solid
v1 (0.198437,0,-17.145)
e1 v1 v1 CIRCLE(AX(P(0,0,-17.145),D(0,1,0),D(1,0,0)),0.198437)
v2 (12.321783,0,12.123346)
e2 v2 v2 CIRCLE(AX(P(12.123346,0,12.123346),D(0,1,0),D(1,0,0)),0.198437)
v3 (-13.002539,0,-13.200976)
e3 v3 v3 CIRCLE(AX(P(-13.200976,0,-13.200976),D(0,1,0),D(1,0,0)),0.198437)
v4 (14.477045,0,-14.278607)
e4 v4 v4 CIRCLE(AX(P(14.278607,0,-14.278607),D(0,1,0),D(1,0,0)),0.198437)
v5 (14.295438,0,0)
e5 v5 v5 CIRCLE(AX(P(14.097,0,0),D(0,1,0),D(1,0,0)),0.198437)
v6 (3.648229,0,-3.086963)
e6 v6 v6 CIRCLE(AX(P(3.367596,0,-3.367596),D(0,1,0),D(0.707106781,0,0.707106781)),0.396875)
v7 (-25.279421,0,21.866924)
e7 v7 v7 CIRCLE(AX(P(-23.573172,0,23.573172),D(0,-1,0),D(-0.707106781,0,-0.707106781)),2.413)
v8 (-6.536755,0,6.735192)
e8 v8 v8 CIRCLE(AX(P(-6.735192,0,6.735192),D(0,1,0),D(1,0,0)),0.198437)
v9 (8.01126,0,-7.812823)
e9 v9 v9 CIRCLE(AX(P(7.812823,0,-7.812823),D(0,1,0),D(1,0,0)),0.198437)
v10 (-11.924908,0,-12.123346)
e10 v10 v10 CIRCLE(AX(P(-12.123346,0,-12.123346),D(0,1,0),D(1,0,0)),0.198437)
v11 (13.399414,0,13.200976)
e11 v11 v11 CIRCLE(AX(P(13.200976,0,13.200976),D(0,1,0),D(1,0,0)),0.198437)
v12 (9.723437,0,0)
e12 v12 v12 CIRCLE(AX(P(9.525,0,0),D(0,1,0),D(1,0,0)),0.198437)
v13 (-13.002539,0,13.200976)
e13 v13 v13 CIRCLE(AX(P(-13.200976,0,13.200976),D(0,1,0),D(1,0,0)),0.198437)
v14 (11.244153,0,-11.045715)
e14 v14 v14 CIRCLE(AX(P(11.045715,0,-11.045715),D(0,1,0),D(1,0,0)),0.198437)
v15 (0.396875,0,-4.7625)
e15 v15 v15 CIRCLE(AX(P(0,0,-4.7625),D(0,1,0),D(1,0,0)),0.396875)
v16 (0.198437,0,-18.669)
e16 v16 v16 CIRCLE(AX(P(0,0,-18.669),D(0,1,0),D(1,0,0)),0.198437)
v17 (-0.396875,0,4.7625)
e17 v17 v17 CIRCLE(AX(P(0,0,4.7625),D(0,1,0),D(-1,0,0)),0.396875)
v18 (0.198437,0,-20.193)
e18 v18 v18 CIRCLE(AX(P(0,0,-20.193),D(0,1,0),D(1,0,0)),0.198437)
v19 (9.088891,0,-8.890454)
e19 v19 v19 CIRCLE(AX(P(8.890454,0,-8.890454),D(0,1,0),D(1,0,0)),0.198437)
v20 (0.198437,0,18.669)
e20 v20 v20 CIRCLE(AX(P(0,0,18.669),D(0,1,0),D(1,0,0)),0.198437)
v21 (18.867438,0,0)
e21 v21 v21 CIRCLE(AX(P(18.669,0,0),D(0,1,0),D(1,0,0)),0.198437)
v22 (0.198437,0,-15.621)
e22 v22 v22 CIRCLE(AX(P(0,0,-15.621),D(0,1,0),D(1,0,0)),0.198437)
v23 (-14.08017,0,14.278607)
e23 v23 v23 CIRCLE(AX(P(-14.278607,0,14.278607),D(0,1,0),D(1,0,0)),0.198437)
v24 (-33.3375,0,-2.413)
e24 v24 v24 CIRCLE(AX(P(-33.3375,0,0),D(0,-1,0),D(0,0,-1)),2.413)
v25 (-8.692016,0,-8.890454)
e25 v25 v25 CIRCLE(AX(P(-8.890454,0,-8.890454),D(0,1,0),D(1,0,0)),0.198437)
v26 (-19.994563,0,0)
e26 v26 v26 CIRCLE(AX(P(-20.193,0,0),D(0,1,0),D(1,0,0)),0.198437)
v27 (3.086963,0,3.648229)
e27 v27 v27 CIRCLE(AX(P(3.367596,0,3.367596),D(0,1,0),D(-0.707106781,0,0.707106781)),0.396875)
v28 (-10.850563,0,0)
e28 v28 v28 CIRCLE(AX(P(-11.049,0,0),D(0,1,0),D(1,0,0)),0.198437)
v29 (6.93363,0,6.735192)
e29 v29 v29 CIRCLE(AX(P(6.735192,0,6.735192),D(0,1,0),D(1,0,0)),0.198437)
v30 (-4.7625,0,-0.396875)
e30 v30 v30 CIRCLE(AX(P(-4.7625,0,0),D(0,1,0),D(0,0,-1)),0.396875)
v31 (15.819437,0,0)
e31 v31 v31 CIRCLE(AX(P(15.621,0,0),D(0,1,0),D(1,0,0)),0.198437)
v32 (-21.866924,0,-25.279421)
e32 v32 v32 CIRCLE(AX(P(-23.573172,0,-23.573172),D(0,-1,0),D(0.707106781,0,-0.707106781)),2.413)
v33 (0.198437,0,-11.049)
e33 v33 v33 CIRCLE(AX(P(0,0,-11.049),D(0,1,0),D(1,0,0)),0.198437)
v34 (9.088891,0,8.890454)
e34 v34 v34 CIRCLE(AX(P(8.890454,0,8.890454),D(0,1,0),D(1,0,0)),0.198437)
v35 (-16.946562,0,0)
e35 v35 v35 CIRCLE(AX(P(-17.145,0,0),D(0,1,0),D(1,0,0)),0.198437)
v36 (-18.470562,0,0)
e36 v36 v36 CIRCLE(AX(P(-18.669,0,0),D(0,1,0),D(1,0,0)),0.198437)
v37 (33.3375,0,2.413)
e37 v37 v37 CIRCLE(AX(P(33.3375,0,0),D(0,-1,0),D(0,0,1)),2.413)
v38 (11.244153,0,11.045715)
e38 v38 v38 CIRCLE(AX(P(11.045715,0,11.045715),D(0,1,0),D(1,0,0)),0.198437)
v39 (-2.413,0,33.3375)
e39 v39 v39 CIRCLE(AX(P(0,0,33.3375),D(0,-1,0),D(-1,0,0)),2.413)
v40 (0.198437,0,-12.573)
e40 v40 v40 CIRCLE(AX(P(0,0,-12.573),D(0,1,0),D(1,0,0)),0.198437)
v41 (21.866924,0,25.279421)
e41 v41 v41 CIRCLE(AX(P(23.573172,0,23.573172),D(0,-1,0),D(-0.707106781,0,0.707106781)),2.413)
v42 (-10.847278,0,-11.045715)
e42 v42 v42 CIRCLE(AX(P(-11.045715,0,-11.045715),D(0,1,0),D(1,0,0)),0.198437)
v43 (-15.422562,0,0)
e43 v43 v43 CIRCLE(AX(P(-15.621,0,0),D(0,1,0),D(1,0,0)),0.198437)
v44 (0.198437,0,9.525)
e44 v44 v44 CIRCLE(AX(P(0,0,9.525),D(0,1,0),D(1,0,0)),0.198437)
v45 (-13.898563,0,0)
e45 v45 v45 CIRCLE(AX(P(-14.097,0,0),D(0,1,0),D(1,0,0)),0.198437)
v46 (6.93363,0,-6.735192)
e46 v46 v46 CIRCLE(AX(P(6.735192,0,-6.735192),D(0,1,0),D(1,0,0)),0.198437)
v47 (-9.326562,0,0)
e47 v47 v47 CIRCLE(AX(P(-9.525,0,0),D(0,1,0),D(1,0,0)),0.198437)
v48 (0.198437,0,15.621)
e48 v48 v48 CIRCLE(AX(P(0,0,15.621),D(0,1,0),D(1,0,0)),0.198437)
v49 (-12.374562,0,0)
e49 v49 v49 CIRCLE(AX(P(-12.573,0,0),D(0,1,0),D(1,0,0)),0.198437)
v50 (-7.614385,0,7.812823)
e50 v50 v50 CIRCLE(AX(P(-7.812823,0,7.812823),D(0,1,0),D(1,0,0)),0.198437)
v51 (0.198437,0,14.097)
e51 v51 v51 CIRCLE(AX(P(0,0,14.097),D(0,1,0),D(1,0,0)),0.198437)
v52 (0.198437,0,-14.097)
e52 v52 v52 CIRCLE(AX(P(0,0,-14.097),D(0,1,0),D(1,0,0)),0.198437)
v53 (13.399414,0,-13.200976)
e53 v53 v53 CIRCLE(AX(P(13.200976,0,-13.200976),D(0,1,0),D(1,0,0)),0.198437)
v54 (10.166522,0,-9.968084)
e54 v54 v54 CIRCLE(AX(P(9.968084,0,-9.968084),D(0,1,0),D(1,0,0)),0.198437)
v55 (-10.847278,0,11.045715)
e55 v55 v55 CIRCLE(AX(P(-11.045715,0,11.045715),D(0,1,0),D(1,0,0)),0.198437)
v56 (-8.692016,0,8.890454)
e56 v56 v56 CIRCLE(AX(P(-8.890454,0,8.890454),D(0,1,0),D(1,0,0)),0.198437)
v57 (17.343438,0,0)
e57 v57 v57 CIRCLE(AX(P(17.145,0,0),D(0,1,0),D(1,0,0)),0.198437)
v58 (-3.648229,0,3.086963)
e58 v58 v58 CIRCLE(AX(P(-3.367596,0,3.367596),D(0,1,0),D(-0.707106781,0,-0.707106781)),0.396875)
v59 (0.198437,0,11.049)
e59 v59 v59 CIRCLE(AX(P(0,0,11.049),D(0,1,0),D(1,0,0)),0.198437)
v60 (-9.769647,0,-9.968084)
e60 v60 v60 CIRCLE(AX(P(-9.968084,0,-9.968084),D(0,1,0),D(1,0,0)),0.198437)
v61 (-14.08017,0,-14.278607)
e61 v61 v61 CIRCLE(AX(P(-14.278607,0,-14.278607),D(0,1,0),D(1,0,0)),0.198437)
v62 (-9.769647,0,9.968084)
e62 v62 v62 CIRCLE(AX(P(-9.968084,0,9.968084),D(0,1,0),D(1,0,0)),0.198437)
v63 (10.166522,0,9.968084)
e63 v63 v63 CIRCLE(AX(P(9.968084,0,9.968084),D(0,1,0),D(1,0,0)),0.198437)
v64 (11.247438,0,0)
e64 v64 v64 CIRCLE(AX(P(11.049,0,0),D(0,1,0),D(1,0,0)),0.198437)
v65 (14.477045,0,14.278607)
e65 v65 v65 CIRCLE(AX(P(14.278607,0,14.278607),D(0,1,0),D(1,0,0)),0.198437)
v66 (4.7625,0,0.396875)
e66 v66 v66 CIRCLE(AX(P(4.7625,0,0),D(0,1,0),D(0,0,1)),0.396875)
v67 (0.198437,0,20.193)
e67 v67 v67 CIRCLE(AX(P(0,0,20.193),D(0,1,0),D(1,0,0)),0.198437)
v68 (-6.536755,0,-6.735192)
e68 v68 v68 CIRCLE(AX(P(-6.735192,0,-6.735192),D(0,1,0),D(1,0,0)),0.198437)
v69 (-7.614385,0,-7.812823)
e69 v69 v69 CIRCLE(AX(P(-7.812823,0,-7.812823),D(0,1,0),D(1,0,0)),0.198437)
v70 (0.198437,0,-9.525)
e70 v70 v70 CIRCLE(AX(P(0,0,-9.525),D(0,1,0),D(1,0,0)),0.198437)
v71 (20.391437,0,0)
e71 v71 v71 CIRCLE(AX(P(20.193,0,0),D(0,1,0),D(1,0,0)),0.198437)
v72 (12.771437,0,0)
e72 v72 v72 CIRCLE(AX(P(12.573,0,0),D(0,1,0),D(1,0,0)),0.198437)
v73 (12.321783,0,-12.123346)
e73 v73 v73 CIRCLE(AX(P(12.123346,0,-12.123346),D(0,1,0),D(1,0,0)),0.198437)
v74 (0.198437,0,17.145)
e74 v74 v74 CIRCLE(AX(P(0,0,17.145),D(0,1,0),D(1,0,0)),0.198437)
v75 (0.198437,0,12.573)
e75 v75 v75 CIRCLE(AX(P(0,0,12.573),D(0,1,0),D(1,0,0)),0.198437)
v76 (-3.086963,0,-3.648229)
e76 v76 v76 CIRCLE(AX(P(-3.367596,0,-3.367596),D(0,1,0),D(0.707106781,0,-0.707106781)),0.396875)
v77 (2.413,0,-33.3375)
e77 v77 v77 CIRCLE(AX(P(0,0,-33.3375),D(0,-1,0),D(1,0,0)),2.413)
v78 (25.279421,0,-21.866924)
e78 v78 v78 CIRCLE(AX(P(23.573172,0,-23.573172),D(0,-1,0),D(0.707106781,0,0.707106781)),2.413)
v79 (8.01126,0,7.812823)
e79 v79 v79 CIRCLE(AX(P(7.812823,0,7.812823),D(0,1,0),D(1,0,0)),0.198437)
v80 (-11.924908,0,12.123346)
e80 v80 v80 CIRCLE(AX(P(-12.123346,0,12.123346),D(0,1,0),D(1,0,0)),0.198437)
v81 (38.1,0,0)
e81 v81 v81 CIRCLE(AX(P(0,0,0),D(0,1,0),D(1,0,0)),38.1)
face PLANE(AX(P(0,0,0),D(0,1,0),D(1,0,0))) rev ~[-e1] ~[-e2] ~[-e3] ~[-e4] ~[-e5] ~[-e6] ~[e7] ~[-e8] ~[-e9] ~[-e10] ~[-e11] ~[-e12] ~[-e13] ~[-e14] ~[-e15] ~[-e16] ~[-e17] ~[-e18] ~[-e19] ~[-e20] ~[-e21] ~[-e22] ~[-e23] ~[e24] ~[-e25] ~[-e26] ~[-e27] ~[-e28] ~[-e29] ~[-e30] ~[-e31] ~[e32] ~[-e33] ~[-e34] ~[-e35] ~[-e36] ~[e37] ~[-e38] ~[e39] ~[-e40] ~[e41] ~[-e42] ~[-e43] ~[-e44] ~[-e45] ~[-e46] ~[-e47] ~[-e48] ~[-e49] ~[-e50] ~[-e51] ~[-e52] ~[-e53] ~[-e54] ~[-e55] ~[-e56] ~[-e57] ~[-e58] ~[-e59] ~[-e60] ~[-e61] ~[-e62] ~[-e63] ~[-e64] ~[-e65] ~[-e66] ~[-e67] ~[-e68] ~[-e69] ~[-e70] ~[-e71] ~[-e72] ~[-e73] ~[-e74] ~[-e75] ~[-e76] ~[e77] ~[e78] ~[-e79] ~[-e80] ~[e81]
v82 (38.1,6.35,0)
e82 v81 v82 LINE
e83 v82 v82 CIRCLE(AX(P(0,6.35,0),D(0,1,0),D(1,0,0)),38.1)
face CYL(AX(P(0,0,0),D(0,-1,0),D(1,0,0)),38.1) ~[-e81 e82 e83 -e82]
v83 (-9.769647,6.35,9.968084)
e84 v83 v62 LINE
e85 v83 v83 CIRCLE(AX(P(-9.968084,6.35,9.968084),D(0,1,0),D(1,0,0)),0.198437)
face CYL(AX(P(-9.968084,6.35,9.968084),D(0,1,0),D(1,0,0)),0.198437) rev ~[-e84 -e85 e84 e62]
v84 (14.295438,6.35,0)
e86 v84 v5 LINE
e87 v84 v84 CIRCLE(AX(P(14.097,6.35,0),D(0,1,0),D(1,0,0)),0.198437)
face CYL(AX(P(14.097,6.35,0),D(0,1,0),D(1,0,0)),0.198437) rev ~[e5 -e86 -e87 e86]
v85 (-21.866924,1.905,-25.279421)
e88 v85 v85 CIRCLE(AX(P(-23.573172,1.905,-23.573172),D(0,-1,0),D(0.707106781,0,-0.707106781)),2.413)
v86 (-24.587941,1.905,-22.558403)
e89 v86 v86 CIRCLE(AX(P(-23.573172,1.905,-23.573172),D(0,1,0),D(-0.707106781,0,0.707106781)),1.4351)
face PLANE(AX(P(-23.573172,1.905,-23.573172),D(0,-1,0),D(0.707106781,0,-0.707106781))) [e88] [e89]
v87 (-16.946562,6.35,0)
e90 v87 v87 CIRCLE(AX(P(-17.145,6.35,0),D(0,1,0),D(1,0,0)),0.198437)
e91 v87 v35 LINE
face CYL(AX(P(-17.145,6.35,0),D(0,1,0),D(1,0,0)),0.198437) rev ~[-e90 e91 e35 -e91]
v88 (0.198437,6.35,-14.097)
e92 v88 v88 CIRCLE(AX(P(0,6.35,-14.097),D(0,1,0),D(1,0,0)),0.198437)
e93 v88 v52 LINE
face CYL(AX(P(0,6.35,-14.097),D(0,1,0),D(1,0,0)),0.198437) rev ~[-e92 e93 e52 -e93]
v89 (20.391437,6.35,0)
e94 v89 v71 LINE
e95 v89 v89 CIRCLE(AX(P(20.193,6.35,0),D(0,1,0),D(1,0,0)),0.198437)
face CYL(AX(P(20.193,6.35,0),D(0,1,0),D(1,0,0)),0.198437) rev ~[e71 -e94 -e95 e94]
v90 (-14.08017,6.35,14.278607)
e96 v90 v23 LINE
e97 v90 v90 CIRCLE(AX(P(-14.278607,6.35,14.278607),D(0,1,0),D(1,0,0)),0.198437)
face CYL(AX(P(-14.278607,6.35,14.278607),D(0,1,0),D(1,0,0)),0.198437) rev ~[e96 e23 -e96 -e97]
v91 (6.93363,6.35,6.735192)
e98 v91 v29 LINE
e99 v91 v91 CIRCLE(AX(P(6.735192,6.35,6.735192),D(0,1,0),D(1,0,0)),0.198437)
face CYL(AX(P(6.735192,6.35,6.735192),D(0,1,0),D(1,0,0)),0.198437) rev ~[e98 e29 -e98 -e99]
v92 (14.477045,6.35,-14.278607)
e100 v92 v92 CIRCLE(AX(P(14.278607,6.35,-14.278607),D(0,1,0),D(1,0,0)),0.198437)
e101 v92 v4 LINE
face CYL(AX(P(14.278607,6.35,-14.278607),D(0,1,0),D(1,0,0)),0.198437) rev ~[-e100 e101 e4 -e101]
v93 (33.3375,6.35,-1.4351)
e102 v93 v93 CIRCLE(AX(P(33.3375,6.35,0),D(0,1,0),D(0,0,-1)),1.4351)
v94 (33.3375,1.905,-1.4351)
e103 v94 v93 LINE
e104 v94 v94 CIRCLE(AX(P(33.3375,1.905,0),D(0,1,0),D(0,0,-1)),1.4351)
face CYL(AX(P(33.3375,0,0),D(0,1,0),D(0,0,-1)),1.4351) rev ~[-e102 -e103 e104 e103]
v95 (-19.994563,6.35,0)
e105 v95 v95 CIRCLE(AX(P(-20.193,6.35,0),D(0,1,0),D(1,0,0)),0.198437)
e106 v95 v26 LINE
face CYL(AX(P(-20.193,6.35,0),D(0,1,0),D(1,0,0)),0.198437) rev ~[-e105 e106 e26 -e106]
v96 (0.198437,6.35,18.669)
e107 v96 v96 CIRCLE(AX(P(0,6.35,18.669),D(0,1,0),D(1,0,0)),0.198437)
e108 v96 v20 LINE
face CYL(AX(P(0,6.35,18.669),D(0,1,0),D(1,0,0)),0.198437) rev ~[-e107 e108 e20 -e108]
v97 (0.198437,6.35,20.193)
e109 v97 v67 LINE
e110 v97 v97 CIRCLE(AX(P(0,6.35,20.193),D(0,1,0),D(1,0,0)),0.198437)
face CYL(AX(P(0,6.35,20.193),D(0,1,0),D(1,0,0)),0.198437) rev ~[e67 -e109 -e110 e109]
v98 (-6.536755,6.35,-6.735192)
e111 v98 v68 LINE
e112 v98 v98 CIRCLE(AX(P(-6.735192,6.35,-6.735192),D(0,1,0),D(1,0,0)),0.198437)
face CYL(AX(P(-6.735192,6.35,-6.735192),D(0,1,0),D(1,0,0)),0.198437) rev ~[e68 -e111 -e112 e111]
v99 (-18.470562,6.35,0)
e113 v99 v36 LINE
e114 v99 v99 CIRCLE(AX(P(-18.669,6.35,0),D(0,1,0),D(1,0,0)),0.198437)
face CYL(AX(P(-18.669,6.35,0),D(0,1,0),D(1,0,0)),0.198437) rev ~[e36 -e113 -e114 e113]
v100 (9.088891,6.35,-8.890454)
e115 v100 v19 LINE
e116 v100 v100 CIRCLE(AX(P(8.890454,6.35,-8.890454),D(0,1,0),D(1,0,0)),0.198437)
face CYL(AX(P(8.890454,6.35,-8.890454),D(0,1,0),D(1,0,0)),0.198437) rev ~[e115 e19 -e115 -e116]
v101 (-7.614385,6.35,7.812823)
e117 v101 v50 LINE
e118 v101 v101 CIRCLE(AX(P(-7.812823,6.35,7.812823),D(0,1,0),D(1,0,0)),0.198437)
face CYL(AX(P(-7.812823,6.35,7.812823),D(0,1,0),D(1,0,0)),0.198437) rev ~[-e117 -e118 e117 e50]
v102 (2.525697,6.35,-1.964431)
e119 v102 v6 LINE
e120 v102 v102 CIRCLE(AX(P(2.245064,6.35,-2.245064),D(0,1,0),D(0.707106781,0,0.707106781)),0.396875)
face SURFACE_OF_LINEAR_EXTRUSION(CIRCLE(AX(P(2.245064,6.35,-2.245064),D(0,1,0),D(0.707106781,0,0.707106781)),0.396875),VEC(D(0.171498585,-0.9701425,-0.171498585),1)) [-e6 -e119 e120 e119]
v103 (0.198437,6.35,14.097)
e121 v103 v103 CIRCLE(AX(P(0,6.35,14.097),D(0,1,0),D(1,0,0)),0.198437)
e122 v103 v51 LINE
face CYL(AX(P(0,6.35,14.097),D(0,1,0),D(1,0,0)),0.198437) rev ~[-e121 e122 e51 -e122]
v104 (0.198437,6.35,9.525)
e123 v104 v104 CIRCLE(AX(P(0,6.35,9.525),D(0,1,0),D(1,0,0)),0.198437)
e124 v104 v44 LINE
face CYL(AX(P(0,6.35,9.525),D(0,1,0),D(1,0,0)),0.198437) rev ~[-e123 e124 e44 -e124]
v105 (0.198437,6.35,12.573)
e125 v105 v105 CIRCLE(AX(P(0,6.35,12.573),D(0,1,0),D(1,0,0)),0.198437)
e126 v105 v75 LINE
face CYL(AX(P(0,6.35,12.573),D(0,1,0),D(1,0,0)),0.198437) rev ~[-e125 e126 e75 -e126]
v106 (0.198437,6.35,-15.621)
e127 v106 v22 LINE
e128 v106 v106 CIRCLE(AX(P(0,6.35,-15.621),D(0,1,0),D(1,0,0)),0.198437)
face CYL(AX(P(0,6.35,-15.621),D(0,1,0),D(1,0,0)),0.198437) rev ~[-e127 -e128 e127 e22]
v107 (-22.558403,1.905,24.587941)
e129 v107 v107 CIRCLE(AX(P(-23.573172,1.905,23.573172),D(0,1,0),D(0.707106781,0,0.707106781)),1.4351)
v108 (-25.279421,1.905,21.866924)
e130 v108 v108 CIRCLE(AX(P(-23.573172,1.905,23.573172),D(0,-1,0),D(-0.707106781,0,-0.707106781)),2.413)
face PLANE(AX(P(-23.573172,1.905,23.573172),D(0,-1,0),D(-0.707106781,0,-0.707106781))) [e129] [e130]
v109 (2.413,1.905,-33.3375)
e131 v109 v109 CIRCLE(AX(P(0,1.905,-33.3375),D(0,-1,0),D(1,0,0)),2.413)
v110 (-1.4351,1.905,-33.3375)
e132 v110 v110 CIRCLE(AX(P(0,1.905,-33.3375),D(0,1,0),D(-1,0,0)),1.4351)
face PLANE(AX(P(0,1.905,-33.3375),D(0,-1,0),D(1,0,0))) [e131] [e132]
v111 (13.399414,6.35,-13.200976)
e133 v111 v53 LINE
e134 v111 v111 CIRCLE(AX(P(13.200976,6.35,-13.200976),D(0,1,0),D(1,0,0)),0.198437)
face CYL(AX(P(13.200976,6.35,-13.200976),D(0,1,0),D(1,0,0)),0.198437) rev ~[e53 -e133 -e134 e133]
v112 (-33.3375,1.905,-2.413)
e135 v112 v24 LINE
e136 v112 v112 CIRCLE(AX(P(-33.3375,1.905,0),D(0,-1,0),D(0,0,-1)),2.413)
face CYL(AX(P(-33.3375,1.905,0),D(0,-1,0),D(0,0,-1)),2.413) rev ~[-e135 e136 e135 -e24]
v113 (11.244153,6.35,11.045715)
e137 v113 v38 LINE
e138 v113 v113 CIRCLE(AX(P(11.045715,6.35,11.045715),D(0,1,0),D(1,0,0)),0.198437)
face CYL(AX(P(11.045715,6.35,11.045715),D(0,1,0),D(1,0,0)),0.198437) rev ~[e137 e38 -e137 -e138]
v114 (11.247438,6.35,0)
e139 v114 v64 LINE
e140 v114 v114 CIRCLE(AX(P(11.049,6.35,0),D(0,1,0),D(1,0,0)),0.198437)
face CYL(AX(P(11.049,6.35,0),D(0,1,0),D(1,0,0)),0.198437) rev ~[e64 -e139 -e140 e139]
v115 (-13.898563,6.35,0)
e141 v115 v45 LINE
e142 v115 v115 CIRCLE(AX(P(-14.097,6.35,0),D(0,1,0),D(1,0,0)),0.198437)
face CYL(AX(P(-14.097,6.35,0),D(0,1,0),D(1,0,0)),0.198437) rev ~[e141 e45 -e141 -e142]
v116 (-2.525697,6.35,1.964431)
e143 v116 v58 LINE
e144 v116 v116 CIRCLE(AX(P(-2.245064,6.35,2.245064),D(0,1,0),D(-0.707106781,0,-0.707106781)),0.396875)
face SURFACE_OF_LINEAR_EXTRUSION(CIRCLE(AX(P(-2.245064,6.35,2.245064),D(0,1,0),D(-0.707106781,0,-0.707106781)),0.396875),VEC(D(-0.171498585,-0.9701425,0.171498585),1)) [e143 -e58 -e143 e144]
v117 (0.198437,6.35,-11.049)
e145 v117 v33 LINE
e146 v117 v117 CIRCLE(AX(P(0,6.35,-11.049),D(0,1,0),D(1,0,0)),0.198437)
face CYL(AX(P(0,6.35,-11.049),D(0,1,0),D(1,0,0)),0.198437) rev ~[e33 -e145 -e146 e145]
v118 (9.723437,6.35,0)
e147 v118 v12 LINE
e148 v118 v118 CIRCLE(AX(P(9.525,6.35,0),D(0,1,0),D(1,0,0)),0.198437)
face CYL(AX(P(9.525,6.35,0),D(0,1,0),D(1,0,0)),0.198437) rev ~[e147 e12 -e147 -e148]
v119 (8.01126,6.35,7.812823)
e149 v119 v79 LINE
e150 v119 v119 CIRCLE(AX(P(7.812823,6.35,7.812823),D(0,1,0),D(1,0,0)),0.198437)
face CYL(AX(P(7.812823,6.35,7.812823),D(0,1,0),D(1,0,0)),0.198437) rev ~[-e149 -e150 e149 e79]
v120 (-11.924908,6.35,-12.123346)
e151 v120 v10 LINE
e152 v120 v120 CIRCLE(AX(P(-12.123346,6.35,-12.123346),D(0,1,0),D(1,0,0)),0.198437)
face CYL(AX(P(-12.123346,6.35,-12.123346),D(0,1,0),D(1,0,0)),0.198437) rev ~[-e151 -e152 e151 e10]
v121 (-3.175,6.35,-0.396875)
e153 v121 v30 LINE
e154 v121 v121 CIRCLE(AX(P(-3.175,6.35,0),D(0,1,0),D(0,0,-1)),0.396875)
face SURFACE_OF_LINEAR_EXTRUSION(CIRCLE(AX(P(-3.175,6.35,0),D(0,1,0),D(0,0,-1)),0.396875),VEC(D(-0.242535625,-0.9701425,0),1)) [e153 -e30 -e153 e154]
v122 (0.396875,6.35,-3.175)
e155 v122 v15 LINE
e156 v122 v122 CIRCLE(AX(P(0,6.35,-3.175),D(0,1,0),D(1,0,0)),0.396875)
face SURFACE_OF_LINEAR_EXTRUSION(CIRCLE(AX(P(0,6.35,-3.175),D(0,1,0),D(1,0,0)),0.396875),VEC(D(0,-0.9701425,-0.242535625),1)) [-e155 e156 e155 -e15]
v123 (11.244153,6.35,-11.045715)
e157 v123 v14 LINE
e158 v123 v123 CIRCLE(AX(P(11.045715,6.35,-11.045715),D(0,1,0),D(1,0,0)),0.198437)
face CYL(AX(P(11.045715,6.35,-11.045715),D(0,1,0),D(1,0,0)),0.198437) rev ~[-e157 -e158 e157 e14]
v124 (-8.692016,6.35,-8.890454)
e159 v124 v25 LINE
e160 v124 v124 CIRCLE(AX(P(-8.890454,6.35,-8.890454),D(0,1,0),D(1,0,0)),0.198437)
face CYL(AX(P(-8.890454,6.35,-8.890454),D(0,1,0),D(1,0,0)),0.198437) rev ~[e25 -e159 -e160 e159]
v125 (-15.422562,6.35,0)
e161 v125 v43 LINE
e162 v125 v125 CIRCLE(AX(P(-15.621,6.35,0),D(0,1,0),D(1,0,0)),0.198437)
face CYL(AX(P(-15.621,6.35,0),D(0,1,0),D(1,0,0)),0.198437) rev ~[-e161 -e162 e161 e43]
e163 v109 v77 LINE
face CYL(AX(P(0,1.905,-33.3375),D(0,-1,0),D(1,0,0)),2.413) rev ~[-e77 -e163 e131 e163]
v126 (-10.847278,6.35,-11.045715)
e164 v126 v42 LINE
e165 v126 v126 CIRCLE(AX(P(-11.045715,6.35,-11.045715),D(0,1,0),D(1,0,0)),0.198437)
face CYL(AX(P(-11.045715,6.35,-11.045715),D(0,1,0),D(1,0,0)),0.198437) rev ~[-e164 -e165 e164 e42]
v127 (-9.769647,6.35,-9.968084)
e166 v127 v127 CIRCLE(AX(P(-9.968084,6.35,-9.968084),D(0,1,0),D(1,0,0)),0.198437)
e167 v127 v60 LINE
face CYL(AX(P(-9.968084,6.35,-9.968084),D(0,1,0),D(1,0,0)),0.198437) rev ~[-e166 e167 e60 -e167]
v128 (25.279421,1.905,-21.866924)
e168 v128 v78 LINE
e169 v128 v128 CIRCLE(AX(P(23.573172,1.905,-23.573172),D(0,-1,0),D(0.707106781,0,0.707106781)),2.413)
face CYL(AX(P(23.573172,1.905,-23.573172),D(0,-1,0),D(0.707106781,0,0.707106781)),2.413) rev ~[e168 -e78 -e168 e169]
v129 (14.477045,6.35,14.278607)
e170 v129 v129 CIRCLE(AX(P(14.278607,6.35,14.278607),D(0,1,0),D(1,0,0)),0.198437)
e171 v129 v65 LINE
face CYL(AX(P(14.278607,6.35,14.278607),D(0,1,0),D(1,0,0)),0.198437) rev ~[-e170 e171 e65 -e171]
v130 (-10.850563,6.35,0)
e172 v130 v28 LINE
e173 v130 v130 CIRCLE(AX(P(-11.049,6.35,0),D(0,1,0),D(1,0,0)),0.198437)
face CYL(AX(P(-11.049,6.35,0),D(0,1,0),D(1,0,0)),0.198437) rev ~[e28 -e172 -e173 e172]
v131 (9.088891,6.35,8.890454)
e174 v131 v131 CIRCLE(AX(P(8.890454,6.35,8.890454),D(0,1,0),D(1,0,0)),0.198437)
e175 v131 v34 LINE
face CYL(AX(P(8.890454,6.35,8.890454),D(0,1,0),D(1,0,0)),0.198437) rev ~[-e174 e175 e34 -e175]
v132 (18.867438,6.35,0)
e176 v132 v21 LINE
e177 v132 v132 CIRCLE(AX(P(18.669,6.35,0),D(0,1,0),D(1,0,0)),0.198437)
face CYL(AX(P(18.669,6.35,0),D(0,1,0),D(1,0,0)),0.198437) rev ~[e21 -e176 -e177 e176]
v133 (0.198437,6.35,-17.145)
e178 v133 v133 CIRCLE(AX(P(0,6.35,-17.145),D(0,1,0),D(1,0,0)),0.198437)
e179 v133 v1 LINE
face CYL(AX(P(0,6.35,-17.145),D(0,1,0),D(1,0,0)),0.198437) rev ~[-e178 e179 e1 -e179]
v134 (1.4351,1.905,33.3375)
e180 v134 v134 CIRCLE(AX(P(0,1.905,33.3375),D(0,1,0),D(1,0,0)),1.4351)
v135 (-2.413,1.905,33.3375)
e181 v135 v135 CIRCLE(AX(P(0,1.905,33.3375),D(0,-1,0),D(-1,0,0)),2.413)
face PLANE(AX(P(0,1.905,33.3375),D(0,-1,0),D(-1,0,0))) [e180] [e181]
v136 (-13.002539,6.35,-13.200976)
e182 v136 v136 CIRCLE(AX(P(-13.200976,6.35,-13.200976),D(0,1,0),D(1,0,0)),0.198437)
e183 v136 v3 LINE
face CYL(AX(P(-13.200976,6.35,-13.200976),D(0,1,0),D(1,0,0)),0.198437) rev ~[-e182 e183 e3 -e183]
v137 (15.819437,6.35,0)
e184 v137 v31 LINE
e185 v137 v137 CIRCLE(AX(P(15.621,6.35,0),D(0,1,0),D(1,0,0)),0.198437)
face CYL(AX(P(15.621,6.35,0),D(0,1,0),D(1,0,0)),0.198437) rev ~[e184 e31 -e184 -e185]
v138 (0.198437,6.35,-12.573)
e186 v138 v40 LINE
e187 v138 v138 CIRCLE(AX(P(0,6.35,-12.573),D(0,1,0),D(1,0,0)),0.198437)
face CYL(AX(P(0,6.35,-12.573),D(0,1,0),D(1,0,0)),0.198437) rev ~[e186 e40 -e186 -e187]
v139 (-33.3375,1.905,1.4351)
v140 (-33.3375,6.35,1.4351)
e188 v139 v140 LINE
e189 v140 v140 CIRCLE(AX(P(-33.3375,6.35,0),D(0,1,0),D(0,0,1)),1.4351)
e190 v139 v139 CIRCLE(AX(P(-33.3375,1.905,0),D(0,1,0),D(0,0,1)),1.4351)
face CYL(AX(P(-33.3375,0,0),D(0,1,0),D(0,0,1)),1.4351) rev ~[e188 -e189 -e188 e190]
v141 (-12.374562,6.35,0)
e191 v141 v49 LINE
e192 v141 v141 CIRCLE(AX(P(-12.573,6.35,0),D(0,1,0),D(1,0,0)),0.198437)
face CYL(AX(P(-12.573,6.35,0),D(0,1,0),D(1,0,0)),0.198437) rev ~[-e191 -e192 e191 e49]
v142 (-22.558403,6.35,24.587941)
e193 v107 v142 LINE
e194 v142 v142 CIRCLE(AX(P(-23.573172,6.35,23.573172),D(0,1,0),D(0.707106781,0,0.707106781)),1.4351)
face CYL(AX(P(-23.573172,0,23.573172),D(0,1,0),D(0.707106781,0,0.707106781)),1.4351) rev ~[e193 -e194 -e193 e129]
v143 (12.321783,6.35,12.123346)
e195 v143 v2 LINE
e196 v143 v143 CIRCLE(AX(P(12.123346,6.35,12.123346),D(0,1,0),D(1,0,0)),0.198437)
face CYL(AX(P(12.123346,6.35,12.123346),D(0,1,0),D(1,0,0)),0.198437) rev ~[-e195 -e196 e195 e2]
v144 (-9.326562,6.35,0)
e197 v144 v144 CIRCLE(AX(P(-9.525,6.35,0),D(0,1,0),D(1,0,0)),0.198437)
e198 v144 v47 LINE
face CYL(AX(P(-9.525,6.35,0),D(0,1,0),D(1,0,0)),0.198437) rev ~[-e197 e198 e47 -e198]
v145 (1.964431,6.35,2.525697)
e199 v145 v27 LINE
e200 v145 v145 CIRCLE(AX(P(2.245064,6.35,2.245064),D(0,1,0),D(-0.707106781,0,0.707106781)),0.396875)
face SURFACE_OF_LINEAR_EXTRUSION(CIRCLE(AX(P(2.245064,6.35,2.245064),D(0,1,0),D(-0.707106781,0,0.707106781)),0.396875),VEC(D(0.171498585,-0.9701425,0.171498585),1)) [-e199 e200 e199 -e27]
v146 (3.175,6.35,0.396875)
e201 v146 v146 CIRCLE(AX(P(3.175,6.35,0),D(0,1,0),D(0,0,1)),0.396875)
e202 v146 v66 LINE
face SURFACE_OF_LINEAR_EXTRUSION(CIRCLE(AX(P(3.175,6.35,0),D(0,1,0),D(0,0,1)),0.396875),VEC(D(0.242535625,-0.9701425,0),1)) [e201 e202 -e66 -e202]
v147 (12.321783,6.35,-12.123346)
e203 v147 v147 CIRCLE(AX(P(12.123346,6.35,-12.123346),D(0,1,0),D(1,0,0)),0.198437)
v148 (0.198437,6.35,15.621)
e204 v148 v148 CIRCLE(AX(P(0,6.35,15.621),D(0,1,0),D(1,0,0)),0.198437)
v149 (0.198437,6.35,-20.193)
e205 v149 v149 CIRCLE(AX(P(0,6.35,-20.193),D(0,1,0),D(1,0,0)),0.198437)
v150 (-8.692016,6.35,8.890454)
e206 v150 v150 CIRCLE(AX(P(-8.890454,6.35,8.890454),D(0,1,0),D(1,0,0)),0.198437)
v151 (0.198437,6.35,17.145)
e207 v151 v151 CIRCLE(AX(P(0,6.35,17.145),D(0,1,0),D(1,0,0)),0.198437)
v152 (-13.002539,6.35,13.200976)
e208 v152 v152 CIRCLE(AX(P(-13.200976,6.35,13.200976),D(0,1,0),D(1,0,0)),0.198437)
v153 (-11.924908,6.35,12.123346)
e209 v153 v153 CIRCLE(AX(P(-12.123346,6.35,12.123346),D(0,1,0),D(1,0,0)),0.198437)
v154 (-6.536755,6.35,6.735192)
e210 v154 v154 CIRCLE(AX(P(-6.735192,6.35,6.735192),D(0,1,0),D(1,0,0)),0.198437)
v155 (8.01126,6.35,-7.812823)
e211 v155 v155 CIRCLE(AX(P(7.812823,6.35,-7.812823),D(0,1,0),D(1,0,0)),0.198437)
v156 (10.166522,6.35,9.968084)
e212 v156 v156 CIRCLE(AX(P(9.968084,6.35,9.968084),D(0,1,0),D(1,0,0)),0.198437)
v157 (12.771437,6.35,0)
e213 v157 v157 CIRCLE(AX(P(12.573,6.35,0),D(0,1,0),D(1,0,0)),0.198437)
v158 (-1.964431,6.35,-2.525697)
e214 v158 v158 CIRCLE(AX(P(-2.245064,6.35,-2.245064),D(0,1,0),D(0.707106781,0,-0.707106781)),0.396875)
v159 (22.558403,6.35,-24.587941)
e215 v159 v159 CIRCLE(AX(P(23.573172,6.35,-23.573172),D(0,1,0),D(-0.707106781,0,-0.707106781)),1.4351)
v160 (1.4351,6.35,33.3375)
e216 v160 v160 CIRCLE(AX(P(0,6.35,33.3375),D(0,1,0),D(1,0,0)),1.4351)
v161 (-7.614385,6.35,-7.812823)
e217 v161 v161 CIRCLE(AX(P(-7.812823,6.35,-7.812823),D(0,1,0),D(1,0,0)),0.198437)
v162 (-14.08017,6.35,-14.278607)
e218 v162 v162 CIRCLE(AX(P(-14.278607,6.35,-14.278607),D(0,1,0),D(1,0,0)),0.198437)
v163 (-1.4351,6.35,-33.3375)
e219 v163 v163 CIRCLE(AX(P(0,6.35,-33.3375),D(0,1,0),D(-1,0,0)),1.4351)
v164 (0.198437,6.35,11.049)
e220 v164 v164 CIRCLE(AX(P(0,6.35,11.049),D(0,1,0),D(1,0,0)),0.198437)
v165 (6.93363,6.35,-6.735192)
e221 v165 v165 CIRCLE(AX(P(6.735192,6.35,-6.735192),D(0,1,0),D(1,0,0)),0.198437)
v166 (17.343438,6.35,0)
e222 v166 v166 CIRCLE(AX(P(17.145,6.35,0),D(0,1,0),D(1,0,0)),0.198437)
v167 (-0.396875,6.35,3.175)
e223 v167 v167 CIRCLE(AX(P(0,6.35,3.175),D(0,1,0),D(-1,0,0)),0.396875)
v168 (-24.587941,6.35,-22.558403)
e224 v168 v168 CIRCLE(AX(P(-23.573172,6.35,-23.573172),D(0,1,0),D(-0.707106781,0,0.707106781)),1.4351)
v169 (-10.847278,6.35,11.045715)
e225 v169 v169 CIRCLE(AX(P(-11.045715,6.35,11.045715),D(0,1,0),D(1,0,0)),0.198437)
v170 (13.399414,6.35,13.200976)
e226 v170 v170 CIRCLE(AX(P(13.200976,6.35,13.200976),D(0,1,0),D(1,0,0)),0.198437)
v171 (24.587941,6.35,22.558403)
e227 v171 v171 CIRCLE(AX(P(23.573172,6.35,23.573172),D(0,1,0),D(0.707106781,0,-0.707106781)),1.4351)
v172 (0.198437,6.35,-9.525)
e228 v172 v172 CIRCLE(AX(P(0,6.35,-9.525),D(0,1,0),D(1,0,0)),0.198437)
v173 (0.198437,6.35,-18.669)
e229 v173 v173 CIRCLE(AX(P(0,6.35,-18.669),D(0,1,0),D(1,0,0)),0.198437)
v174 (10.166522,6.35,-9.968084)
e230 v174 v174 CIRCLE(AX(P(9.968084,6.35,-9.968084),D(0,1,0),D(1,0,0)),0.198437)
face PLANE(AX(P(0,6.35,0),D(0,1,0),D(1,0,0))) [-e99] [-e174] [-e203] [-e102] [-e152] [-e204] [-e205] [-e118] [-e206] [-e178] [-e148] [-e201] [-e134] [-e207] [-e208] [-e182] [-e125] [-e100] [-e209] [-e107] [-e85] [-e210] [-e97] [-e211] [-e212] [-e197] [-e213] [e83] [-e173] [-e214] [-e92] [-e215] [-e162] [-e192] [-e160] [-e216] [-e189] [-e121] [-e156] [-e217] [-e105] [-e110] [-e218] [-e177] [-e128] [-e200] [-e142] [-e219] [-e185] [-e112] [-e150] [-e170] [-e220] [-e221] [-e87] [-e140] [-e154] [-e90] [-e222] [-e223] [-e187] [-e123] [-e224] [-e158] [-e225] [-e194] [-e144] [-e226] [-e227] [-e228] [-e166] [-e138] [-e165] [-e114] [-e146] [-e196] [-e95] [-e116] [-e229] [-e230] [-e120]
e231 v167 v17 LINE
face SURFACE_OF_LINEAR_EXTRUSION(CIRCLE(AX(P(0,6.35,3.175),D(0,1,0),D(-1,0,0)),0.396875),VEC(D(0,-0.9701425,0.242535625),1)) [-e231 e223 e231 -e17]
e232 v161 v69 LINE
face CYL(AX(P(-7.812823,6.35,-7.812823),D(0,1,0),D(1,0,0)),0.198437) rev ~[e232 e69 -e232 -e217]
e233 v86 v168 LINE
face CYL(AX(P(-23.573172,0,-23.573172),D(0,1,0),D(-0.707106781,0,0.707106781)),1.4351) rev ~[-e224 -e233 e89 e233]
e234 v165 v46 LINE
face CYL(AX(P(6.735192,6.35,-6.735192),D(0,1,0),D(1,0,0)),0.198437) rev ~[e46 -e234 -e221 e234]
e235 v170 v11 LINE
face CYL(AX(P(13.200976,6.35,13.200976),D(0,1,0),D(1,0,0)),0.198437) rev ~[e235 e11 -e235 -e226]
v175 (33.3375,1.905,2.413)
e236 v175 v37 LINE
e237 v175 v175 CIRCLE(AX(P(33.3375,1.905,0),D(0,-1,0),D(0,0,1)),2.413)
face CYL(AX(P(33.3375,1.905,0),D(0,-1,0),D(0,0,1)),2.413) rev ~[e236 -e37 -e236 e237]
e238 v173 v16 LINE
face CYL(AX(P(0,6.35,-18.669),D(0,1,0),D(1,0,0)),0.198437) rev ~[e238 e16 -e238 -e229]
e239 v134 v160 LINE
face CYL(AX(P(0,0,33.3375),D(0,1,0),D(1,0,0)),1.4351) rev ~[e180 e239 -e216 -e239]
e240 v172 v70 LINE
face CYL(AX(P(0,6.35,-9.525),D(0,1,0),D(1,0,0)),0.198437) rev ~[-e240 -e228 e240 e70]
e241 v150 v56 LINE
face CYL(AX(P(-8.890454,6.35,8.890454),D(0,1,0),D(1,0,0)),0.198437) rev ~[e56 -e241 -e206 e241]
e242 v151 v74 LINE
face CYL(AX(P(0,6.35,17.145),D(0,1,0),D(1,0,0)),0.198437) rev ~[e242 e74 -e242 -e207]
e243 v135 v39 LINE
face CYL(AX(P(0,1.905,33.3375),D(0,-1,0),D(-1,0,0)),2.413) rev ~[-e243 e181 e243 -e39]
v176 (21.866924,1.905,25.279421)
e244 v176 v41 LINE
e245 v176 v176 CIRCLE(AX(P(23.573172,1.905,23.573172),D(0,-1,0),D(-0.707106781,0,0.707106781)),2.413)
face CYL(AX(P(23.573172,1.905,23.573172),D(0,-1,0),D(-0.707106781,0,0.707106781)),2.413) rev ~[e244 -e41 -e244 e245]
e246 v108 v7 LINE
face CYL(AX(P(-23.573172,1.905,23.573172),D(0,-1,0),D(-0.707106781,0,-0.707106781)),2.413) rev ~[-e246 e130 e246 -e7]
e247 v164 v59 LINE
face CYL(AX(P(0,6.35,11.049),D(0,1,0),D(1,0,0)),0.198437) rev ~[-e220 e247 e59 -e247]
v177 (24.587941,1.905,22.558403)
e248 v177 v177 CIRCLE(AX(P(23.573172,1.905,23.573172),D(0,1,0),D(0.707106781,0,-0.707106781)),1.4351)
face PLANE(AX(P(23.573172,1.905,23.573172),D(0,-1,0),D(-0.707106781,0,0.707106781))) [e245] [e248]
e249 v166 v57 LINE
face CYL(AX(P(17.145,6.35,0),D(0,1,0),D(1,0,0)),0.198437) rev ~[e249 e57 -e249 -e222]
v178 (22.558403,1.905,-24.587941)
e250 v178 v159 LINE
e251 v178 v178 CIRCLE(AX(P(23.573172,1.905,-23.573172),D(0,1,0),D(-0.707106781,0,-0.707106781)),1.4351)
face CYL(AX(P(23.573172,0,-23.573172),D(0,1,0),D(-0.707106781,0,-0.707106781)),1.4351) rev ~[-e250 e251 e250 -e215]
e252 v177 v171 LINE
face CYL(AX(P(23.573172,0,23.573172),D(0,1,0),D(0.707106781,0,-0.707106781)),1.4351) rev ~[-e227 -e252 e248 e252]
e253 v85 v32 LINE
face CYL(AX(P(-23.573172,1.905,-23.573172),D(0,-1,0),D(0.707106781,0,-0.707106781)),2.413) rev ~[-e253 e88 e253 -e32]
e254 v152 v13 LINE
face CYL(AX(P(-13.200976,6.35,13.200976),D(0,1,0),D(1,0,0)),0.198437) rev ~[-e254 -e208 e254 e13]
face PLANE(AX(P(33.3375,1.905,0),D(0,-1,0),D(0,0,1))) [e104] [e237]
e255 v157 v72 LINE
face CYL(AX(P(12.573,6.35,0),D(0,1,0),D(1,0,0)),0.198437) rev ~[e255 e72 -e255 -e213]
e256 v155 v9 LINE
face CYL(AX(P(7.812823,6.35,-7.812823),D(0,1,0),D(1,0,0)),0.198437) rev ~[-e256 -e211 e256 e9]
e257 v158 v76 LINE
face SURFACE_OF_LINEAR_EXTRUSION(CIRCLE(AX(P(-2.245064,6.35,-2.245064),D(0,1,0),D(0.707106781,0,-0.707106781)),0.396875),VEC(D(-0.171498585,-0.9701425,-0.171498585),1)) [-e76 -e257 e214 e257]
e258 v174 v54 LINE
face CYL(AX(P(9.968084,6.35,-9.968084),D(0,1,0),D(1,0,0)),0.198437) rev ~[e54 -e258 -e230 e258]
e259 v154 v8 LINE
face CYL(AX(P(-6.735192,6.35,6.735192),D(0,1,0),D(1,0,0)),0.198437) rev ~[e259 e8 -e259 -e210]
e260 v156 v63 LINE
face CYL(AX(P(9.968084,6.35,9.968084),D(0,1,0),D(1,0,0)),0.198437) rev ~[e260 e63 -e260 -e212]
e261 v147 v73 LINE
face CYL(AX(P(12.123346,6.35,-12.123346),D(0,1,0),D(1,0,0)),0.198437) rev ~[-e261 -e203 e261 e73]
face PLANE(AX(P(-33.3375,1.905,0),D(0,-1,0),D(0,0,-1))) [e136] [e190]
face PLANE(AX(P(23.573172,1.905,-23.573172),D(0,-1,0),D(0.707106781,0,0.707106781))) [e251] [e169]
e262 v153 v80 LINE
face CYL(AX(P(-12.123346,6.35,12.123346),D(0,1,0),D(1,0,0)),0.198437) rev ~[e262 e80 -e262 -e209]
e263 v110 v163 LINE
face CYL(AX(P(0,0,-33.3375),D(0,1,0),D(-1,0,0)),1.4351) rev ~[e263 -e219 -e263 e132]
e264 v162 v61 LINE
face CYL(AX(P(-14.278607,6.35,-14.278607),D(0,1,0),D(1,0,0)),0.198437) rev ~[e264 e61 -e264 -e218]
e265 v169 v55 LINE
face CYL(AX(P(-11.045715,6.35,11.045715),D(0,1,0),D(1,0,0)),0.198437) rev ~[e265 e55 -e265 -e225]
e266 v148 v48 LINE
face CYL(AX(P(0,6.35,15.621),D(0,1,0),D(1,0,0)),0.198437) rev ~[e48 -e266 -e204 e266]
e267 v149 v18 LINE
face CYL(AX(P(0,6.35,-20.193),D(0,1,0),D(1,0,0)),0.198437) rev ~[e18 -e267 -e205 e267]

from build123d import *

# Parameters (mm, degrees)
SKETCH1_R                                      = 38.1
BOSS_EXTRUDE1_DEPTH                            = 6.35
CBORE_FOR_4_BUTTON_HEAD_CAP_SCREW1_D           = 2.8702
CBORE_FOR_4_BUTTON_HEAD_CAP_SCREW1_CBORE_D     = 4.826
CBORE_FOR_4_BUTTON_HEAD_CAP_SCREW1_CBORE_DEPTH = 1.905
CIRPATTERN1_COUNT                              = 8
SKETCH6_R                                      = 0.1984375
CUT_EXTRUDE1_DEPTH                             = 7.35
SKETCH7_R                                      = 0.396875
CIRPATTERN2_COUNT                              = 8


with BuildPart() as part:
    # Sketch1 → Boss-Extrude1 (new body)
    with BuildSketch(Plane(origin=(0, 0, 0), x_dir=(1, 0, 0), z_dir=(0, 1, 0))):
        Circle(SKETCH1_R)
    extrude(amount=BOSS_EXTRUDE1_DEPTH)

    # CBORE for #4 Button Head Cap Screw1 (through all)
    with Locations(Plane(origin=(0, 0, 0), x_dir=(-1, 0, 0), z_dir=(0, -1, 0))):
        with Locations((0, -33.3375)):
            cbore_for_4_button_head_cap_screw1 = CounterBoreHole(CBORE_FOR_4_BUTTON_HEAD_CAP_SCREW1_D / 2, CBORE_FOR_4_BUTTON_HEAD_CAP_SCREW1_CBORE_D / 2, CBORE_FOR_4_BUTTON_HEAD_CAP_SCREW1_CBORE_DEPTH)

    # CirPattern1: CBORE for #4 Button Head Cap Screw1 ×8 about axis
    cirpattern1_axis = Axis((0, 0, 0), (0, 1, 0))
    for i in range(1, CIRPATTERN1_COUNT):
        add(cbore_for_4_button_head_cap_screw1.rotate(cirpattern1_axis, i * 360 / CIRPATTERN1_COUNT), mode=Mode.SUBTRACT)

    # Sketch6 → Cut-Extrude1 (cut, through all)
    with BuildSketch(Plane(origin=(0, 6.35, 0), x_dir=(1, 0, 0), z_dir=(0, 1, 0))):
        with Locations((0, 9.525)):
            Circle(SKETCH6_R)
        with Locations((0, 11.049)):
            Circle(SKETCH6_R)
        with Locations((0, 12.573)):
            Circle(SKETCH6_R)
        with Locations((0, 14.097)):
            Circle(SKETCH6_R)
        with Locations((0, 15.621)):
            Circle(SKETCH6_R)
        with Locations((0, 17.145)):
            Circle(SKETCH6_R)
        with Locations((0, 18.669)):
            Circle(SKETCH6_R)
        with Locations((0, 20.193)):
            Circle(SKETCH6_R)
        with Locations((6.735192091, 6.735192091)):
            Circle(SKETCH6_R)
        with Locations((7.812822825, 7.812822825)):
            Circle(SKETCH6_R)
        with Locations((8.89045356, 8.89045356)):
            Circle(SKETCH6_R)
        with Locations((9.968084294, 9.968084294)):
            Circle(SKETCH6_R)
        with Locations((11.045715029, 11.045715029)):
            Circle(SKETCH6_R)
        with Locations((12.123345763, 12.123345763)):
            Circle(SKETCH6_R)
        with Locations((13.200976498, 13.200976498)):
            Circle(SKETCH6_R)
        with Locations((14.278607233, 14.278607233)):
            Circle(SKETCH6_R)
        with Locations((9.525, 0)):
            Circle(SKETCH6_R)
        with Locations((11.049, 0)):
            Circle(SKETCH6_R)
        with Locations((12.573, 0)):
            Circle(SKETCH6_R)
        with Locations((14.097, 0)):
            Circle(SKETCH6_R)
        with Locations((15.621, 0)):
            Circle(SKETCH6_R)
        with Locations((17.145, 0)):
            Circle(SKETCH6_R)
        with Locations((18.669, 0)):
            Circle(SKETCH6_R)
        with Locations((20.193, 0)):
            Circle(SKETCH6_R)
        with Locations((6.735192091, -6.735192091)):
            Circle(SKETCH6_R)
        with Locations((7.812822825, -7.812822825)):
            Circle(SKETCH6_R)
        with Locations((8.89045356, -8.89045356)):
            Circle(SKETCH6_R)
        with Locations((9.968084294, -9.968084294)):
            Circle(SKETCH6_R)
        with Locations((11.045715029, -11.045715029)):
            Circle(SKETCH6_R)
        with Locations((12.123345763, -12.123345763)):
            Circle(SKETCH6_R)
        with Locations((13.200976498, -13.200976498)):
            Circle(SKETCH6_R)
        with Locations((14.278607233, -14.278607232)):
            Circle(SKETCH6_R)
        with Locations((0, -9.525)):
            Circle(SKETCH6_R)
        with Locations((0, -11.049)):
            Circle(SKETCH6_R)
        with Locations((0, -12.573)):
            Circle(SKETCH6_R)
        with Locations((0, -14.097)):
            Circle(SKETCH6_R)
        with Locations((0, -15.621)):
            Circle(SKETCH6_R)
        with Locations((0, -17.145)):
            Circle(SKETCH6_R)
        with Locations((0, -18.669)):
            Circle(SKETCH6_R)
        with Locations((0, -20.193)):
            Circle(SKETCH6_R)
        with Locations((-6.735192091, -6.735192091)):
            Circle(SKETCH6_R)
        with Locations((-7.812822825, -7.812822825)):
            Circle(SKETCH6_R)
        with Locations((-8.89045356, -8.89045356)):
            Circle(SKETCH6_R)
        with Locations((-9.968084294, -9.968084294)):
            Circle(SKETCH6_R)
        with Locations((-11.045715029, -11.045715029)):
            Circle(SKETCH6_R)
        with Locations((-12.123345763, -12.123345763)):
            Circle(SKETCH6_R)
        with Locations((-13.200976498, -13.200976498)):
            Circle(SKETCH6_R)
        with Locations((-14.278607232, -14.278607233)):
            Circle(SKETCH6_R)
        with Locations((-9.525, 0)):
            Circle(SKETCH6_R)
        with Locations((-11.049, 0)):
            Circle(SKETCH6_R)
        with Locations((-12.573, 0)):
            Circle(SKETCH6_R)
        with Locations((-14.097, 0)):
            Circle(SKETCH6_R)
        with Locations((-15.621, 0)):
            Circle(SKETCH6_R)
        with Locations((-17.145, 0)):
            Circle(SKETCH6_R)
        with Locations((-18.669, 0)):
            Circle(SKETCH6_R)
        with Locations((-20.193, 0)):
            Circle(SKETCH6_R)
        with Locations((-6.735192091, 6.735192091)):
            Circle(SKETCH6_R)
        with Locations((-7.812822825, 7.812822825)):
            Circle(SKETCH6_R)
        with Locations((-8.89045356, 8.89045356)):
            Circle(SKETCH6_R)
        with Locations((-9.968084294, 9.968084294)):
            Circle(SKETCH6_R)
        with Locations((-11.045715029, 11.045715029)):
            Circle(SKETCH6_R)
        with Locations((-12.123345763, 12.123345763)):
            Circle(SKETCH6_R)
        with Locations((-13.200976498, 13.200976498)):
            Circle(SKETCH6_R)
        with Locations((-14.278607232, 14.278607232)):
            Circle(SKETCH6_R)
    extrude(amount=-CUT_EXTRUDE1_DEPTH, mode=Mode.SUBTRACT)

    # Cut-Sweep1: sweep along a curve in space
    with BuildLine() as cut_sweep1_path:
        Line((0, 6.35, -3.175), (0, 0, -4.7625))
    # Sketch7 → Cut-Sweep1 (sweep, cut)
    with BuildSketch(Plane(origin=(0, 6.35, 0), x_dir=(1, 0, 0), z_dir=(0, 1, 0))):
        with Locations((0, 3.175)):
            Circle(SKETCH7_R)
    cut_sweep1 = sweep(path=cut_sweep1_path.line, mode=Mode.SUBTRACT)

    # CirPattern2: Cut-Sweep1 ×8 about axis
    cirpattern2_axis = Axis((0, 6.35, 0), (0, 1, 0))
    for i in range(1, CIRPATTERN2_COUNT):
        add(cut_sweep1.rotate(cirpattern2_axis, i * 360 / CIRPATTERN2_COUNT), mode=Mode.SUBTRACT)


solid = part.part
